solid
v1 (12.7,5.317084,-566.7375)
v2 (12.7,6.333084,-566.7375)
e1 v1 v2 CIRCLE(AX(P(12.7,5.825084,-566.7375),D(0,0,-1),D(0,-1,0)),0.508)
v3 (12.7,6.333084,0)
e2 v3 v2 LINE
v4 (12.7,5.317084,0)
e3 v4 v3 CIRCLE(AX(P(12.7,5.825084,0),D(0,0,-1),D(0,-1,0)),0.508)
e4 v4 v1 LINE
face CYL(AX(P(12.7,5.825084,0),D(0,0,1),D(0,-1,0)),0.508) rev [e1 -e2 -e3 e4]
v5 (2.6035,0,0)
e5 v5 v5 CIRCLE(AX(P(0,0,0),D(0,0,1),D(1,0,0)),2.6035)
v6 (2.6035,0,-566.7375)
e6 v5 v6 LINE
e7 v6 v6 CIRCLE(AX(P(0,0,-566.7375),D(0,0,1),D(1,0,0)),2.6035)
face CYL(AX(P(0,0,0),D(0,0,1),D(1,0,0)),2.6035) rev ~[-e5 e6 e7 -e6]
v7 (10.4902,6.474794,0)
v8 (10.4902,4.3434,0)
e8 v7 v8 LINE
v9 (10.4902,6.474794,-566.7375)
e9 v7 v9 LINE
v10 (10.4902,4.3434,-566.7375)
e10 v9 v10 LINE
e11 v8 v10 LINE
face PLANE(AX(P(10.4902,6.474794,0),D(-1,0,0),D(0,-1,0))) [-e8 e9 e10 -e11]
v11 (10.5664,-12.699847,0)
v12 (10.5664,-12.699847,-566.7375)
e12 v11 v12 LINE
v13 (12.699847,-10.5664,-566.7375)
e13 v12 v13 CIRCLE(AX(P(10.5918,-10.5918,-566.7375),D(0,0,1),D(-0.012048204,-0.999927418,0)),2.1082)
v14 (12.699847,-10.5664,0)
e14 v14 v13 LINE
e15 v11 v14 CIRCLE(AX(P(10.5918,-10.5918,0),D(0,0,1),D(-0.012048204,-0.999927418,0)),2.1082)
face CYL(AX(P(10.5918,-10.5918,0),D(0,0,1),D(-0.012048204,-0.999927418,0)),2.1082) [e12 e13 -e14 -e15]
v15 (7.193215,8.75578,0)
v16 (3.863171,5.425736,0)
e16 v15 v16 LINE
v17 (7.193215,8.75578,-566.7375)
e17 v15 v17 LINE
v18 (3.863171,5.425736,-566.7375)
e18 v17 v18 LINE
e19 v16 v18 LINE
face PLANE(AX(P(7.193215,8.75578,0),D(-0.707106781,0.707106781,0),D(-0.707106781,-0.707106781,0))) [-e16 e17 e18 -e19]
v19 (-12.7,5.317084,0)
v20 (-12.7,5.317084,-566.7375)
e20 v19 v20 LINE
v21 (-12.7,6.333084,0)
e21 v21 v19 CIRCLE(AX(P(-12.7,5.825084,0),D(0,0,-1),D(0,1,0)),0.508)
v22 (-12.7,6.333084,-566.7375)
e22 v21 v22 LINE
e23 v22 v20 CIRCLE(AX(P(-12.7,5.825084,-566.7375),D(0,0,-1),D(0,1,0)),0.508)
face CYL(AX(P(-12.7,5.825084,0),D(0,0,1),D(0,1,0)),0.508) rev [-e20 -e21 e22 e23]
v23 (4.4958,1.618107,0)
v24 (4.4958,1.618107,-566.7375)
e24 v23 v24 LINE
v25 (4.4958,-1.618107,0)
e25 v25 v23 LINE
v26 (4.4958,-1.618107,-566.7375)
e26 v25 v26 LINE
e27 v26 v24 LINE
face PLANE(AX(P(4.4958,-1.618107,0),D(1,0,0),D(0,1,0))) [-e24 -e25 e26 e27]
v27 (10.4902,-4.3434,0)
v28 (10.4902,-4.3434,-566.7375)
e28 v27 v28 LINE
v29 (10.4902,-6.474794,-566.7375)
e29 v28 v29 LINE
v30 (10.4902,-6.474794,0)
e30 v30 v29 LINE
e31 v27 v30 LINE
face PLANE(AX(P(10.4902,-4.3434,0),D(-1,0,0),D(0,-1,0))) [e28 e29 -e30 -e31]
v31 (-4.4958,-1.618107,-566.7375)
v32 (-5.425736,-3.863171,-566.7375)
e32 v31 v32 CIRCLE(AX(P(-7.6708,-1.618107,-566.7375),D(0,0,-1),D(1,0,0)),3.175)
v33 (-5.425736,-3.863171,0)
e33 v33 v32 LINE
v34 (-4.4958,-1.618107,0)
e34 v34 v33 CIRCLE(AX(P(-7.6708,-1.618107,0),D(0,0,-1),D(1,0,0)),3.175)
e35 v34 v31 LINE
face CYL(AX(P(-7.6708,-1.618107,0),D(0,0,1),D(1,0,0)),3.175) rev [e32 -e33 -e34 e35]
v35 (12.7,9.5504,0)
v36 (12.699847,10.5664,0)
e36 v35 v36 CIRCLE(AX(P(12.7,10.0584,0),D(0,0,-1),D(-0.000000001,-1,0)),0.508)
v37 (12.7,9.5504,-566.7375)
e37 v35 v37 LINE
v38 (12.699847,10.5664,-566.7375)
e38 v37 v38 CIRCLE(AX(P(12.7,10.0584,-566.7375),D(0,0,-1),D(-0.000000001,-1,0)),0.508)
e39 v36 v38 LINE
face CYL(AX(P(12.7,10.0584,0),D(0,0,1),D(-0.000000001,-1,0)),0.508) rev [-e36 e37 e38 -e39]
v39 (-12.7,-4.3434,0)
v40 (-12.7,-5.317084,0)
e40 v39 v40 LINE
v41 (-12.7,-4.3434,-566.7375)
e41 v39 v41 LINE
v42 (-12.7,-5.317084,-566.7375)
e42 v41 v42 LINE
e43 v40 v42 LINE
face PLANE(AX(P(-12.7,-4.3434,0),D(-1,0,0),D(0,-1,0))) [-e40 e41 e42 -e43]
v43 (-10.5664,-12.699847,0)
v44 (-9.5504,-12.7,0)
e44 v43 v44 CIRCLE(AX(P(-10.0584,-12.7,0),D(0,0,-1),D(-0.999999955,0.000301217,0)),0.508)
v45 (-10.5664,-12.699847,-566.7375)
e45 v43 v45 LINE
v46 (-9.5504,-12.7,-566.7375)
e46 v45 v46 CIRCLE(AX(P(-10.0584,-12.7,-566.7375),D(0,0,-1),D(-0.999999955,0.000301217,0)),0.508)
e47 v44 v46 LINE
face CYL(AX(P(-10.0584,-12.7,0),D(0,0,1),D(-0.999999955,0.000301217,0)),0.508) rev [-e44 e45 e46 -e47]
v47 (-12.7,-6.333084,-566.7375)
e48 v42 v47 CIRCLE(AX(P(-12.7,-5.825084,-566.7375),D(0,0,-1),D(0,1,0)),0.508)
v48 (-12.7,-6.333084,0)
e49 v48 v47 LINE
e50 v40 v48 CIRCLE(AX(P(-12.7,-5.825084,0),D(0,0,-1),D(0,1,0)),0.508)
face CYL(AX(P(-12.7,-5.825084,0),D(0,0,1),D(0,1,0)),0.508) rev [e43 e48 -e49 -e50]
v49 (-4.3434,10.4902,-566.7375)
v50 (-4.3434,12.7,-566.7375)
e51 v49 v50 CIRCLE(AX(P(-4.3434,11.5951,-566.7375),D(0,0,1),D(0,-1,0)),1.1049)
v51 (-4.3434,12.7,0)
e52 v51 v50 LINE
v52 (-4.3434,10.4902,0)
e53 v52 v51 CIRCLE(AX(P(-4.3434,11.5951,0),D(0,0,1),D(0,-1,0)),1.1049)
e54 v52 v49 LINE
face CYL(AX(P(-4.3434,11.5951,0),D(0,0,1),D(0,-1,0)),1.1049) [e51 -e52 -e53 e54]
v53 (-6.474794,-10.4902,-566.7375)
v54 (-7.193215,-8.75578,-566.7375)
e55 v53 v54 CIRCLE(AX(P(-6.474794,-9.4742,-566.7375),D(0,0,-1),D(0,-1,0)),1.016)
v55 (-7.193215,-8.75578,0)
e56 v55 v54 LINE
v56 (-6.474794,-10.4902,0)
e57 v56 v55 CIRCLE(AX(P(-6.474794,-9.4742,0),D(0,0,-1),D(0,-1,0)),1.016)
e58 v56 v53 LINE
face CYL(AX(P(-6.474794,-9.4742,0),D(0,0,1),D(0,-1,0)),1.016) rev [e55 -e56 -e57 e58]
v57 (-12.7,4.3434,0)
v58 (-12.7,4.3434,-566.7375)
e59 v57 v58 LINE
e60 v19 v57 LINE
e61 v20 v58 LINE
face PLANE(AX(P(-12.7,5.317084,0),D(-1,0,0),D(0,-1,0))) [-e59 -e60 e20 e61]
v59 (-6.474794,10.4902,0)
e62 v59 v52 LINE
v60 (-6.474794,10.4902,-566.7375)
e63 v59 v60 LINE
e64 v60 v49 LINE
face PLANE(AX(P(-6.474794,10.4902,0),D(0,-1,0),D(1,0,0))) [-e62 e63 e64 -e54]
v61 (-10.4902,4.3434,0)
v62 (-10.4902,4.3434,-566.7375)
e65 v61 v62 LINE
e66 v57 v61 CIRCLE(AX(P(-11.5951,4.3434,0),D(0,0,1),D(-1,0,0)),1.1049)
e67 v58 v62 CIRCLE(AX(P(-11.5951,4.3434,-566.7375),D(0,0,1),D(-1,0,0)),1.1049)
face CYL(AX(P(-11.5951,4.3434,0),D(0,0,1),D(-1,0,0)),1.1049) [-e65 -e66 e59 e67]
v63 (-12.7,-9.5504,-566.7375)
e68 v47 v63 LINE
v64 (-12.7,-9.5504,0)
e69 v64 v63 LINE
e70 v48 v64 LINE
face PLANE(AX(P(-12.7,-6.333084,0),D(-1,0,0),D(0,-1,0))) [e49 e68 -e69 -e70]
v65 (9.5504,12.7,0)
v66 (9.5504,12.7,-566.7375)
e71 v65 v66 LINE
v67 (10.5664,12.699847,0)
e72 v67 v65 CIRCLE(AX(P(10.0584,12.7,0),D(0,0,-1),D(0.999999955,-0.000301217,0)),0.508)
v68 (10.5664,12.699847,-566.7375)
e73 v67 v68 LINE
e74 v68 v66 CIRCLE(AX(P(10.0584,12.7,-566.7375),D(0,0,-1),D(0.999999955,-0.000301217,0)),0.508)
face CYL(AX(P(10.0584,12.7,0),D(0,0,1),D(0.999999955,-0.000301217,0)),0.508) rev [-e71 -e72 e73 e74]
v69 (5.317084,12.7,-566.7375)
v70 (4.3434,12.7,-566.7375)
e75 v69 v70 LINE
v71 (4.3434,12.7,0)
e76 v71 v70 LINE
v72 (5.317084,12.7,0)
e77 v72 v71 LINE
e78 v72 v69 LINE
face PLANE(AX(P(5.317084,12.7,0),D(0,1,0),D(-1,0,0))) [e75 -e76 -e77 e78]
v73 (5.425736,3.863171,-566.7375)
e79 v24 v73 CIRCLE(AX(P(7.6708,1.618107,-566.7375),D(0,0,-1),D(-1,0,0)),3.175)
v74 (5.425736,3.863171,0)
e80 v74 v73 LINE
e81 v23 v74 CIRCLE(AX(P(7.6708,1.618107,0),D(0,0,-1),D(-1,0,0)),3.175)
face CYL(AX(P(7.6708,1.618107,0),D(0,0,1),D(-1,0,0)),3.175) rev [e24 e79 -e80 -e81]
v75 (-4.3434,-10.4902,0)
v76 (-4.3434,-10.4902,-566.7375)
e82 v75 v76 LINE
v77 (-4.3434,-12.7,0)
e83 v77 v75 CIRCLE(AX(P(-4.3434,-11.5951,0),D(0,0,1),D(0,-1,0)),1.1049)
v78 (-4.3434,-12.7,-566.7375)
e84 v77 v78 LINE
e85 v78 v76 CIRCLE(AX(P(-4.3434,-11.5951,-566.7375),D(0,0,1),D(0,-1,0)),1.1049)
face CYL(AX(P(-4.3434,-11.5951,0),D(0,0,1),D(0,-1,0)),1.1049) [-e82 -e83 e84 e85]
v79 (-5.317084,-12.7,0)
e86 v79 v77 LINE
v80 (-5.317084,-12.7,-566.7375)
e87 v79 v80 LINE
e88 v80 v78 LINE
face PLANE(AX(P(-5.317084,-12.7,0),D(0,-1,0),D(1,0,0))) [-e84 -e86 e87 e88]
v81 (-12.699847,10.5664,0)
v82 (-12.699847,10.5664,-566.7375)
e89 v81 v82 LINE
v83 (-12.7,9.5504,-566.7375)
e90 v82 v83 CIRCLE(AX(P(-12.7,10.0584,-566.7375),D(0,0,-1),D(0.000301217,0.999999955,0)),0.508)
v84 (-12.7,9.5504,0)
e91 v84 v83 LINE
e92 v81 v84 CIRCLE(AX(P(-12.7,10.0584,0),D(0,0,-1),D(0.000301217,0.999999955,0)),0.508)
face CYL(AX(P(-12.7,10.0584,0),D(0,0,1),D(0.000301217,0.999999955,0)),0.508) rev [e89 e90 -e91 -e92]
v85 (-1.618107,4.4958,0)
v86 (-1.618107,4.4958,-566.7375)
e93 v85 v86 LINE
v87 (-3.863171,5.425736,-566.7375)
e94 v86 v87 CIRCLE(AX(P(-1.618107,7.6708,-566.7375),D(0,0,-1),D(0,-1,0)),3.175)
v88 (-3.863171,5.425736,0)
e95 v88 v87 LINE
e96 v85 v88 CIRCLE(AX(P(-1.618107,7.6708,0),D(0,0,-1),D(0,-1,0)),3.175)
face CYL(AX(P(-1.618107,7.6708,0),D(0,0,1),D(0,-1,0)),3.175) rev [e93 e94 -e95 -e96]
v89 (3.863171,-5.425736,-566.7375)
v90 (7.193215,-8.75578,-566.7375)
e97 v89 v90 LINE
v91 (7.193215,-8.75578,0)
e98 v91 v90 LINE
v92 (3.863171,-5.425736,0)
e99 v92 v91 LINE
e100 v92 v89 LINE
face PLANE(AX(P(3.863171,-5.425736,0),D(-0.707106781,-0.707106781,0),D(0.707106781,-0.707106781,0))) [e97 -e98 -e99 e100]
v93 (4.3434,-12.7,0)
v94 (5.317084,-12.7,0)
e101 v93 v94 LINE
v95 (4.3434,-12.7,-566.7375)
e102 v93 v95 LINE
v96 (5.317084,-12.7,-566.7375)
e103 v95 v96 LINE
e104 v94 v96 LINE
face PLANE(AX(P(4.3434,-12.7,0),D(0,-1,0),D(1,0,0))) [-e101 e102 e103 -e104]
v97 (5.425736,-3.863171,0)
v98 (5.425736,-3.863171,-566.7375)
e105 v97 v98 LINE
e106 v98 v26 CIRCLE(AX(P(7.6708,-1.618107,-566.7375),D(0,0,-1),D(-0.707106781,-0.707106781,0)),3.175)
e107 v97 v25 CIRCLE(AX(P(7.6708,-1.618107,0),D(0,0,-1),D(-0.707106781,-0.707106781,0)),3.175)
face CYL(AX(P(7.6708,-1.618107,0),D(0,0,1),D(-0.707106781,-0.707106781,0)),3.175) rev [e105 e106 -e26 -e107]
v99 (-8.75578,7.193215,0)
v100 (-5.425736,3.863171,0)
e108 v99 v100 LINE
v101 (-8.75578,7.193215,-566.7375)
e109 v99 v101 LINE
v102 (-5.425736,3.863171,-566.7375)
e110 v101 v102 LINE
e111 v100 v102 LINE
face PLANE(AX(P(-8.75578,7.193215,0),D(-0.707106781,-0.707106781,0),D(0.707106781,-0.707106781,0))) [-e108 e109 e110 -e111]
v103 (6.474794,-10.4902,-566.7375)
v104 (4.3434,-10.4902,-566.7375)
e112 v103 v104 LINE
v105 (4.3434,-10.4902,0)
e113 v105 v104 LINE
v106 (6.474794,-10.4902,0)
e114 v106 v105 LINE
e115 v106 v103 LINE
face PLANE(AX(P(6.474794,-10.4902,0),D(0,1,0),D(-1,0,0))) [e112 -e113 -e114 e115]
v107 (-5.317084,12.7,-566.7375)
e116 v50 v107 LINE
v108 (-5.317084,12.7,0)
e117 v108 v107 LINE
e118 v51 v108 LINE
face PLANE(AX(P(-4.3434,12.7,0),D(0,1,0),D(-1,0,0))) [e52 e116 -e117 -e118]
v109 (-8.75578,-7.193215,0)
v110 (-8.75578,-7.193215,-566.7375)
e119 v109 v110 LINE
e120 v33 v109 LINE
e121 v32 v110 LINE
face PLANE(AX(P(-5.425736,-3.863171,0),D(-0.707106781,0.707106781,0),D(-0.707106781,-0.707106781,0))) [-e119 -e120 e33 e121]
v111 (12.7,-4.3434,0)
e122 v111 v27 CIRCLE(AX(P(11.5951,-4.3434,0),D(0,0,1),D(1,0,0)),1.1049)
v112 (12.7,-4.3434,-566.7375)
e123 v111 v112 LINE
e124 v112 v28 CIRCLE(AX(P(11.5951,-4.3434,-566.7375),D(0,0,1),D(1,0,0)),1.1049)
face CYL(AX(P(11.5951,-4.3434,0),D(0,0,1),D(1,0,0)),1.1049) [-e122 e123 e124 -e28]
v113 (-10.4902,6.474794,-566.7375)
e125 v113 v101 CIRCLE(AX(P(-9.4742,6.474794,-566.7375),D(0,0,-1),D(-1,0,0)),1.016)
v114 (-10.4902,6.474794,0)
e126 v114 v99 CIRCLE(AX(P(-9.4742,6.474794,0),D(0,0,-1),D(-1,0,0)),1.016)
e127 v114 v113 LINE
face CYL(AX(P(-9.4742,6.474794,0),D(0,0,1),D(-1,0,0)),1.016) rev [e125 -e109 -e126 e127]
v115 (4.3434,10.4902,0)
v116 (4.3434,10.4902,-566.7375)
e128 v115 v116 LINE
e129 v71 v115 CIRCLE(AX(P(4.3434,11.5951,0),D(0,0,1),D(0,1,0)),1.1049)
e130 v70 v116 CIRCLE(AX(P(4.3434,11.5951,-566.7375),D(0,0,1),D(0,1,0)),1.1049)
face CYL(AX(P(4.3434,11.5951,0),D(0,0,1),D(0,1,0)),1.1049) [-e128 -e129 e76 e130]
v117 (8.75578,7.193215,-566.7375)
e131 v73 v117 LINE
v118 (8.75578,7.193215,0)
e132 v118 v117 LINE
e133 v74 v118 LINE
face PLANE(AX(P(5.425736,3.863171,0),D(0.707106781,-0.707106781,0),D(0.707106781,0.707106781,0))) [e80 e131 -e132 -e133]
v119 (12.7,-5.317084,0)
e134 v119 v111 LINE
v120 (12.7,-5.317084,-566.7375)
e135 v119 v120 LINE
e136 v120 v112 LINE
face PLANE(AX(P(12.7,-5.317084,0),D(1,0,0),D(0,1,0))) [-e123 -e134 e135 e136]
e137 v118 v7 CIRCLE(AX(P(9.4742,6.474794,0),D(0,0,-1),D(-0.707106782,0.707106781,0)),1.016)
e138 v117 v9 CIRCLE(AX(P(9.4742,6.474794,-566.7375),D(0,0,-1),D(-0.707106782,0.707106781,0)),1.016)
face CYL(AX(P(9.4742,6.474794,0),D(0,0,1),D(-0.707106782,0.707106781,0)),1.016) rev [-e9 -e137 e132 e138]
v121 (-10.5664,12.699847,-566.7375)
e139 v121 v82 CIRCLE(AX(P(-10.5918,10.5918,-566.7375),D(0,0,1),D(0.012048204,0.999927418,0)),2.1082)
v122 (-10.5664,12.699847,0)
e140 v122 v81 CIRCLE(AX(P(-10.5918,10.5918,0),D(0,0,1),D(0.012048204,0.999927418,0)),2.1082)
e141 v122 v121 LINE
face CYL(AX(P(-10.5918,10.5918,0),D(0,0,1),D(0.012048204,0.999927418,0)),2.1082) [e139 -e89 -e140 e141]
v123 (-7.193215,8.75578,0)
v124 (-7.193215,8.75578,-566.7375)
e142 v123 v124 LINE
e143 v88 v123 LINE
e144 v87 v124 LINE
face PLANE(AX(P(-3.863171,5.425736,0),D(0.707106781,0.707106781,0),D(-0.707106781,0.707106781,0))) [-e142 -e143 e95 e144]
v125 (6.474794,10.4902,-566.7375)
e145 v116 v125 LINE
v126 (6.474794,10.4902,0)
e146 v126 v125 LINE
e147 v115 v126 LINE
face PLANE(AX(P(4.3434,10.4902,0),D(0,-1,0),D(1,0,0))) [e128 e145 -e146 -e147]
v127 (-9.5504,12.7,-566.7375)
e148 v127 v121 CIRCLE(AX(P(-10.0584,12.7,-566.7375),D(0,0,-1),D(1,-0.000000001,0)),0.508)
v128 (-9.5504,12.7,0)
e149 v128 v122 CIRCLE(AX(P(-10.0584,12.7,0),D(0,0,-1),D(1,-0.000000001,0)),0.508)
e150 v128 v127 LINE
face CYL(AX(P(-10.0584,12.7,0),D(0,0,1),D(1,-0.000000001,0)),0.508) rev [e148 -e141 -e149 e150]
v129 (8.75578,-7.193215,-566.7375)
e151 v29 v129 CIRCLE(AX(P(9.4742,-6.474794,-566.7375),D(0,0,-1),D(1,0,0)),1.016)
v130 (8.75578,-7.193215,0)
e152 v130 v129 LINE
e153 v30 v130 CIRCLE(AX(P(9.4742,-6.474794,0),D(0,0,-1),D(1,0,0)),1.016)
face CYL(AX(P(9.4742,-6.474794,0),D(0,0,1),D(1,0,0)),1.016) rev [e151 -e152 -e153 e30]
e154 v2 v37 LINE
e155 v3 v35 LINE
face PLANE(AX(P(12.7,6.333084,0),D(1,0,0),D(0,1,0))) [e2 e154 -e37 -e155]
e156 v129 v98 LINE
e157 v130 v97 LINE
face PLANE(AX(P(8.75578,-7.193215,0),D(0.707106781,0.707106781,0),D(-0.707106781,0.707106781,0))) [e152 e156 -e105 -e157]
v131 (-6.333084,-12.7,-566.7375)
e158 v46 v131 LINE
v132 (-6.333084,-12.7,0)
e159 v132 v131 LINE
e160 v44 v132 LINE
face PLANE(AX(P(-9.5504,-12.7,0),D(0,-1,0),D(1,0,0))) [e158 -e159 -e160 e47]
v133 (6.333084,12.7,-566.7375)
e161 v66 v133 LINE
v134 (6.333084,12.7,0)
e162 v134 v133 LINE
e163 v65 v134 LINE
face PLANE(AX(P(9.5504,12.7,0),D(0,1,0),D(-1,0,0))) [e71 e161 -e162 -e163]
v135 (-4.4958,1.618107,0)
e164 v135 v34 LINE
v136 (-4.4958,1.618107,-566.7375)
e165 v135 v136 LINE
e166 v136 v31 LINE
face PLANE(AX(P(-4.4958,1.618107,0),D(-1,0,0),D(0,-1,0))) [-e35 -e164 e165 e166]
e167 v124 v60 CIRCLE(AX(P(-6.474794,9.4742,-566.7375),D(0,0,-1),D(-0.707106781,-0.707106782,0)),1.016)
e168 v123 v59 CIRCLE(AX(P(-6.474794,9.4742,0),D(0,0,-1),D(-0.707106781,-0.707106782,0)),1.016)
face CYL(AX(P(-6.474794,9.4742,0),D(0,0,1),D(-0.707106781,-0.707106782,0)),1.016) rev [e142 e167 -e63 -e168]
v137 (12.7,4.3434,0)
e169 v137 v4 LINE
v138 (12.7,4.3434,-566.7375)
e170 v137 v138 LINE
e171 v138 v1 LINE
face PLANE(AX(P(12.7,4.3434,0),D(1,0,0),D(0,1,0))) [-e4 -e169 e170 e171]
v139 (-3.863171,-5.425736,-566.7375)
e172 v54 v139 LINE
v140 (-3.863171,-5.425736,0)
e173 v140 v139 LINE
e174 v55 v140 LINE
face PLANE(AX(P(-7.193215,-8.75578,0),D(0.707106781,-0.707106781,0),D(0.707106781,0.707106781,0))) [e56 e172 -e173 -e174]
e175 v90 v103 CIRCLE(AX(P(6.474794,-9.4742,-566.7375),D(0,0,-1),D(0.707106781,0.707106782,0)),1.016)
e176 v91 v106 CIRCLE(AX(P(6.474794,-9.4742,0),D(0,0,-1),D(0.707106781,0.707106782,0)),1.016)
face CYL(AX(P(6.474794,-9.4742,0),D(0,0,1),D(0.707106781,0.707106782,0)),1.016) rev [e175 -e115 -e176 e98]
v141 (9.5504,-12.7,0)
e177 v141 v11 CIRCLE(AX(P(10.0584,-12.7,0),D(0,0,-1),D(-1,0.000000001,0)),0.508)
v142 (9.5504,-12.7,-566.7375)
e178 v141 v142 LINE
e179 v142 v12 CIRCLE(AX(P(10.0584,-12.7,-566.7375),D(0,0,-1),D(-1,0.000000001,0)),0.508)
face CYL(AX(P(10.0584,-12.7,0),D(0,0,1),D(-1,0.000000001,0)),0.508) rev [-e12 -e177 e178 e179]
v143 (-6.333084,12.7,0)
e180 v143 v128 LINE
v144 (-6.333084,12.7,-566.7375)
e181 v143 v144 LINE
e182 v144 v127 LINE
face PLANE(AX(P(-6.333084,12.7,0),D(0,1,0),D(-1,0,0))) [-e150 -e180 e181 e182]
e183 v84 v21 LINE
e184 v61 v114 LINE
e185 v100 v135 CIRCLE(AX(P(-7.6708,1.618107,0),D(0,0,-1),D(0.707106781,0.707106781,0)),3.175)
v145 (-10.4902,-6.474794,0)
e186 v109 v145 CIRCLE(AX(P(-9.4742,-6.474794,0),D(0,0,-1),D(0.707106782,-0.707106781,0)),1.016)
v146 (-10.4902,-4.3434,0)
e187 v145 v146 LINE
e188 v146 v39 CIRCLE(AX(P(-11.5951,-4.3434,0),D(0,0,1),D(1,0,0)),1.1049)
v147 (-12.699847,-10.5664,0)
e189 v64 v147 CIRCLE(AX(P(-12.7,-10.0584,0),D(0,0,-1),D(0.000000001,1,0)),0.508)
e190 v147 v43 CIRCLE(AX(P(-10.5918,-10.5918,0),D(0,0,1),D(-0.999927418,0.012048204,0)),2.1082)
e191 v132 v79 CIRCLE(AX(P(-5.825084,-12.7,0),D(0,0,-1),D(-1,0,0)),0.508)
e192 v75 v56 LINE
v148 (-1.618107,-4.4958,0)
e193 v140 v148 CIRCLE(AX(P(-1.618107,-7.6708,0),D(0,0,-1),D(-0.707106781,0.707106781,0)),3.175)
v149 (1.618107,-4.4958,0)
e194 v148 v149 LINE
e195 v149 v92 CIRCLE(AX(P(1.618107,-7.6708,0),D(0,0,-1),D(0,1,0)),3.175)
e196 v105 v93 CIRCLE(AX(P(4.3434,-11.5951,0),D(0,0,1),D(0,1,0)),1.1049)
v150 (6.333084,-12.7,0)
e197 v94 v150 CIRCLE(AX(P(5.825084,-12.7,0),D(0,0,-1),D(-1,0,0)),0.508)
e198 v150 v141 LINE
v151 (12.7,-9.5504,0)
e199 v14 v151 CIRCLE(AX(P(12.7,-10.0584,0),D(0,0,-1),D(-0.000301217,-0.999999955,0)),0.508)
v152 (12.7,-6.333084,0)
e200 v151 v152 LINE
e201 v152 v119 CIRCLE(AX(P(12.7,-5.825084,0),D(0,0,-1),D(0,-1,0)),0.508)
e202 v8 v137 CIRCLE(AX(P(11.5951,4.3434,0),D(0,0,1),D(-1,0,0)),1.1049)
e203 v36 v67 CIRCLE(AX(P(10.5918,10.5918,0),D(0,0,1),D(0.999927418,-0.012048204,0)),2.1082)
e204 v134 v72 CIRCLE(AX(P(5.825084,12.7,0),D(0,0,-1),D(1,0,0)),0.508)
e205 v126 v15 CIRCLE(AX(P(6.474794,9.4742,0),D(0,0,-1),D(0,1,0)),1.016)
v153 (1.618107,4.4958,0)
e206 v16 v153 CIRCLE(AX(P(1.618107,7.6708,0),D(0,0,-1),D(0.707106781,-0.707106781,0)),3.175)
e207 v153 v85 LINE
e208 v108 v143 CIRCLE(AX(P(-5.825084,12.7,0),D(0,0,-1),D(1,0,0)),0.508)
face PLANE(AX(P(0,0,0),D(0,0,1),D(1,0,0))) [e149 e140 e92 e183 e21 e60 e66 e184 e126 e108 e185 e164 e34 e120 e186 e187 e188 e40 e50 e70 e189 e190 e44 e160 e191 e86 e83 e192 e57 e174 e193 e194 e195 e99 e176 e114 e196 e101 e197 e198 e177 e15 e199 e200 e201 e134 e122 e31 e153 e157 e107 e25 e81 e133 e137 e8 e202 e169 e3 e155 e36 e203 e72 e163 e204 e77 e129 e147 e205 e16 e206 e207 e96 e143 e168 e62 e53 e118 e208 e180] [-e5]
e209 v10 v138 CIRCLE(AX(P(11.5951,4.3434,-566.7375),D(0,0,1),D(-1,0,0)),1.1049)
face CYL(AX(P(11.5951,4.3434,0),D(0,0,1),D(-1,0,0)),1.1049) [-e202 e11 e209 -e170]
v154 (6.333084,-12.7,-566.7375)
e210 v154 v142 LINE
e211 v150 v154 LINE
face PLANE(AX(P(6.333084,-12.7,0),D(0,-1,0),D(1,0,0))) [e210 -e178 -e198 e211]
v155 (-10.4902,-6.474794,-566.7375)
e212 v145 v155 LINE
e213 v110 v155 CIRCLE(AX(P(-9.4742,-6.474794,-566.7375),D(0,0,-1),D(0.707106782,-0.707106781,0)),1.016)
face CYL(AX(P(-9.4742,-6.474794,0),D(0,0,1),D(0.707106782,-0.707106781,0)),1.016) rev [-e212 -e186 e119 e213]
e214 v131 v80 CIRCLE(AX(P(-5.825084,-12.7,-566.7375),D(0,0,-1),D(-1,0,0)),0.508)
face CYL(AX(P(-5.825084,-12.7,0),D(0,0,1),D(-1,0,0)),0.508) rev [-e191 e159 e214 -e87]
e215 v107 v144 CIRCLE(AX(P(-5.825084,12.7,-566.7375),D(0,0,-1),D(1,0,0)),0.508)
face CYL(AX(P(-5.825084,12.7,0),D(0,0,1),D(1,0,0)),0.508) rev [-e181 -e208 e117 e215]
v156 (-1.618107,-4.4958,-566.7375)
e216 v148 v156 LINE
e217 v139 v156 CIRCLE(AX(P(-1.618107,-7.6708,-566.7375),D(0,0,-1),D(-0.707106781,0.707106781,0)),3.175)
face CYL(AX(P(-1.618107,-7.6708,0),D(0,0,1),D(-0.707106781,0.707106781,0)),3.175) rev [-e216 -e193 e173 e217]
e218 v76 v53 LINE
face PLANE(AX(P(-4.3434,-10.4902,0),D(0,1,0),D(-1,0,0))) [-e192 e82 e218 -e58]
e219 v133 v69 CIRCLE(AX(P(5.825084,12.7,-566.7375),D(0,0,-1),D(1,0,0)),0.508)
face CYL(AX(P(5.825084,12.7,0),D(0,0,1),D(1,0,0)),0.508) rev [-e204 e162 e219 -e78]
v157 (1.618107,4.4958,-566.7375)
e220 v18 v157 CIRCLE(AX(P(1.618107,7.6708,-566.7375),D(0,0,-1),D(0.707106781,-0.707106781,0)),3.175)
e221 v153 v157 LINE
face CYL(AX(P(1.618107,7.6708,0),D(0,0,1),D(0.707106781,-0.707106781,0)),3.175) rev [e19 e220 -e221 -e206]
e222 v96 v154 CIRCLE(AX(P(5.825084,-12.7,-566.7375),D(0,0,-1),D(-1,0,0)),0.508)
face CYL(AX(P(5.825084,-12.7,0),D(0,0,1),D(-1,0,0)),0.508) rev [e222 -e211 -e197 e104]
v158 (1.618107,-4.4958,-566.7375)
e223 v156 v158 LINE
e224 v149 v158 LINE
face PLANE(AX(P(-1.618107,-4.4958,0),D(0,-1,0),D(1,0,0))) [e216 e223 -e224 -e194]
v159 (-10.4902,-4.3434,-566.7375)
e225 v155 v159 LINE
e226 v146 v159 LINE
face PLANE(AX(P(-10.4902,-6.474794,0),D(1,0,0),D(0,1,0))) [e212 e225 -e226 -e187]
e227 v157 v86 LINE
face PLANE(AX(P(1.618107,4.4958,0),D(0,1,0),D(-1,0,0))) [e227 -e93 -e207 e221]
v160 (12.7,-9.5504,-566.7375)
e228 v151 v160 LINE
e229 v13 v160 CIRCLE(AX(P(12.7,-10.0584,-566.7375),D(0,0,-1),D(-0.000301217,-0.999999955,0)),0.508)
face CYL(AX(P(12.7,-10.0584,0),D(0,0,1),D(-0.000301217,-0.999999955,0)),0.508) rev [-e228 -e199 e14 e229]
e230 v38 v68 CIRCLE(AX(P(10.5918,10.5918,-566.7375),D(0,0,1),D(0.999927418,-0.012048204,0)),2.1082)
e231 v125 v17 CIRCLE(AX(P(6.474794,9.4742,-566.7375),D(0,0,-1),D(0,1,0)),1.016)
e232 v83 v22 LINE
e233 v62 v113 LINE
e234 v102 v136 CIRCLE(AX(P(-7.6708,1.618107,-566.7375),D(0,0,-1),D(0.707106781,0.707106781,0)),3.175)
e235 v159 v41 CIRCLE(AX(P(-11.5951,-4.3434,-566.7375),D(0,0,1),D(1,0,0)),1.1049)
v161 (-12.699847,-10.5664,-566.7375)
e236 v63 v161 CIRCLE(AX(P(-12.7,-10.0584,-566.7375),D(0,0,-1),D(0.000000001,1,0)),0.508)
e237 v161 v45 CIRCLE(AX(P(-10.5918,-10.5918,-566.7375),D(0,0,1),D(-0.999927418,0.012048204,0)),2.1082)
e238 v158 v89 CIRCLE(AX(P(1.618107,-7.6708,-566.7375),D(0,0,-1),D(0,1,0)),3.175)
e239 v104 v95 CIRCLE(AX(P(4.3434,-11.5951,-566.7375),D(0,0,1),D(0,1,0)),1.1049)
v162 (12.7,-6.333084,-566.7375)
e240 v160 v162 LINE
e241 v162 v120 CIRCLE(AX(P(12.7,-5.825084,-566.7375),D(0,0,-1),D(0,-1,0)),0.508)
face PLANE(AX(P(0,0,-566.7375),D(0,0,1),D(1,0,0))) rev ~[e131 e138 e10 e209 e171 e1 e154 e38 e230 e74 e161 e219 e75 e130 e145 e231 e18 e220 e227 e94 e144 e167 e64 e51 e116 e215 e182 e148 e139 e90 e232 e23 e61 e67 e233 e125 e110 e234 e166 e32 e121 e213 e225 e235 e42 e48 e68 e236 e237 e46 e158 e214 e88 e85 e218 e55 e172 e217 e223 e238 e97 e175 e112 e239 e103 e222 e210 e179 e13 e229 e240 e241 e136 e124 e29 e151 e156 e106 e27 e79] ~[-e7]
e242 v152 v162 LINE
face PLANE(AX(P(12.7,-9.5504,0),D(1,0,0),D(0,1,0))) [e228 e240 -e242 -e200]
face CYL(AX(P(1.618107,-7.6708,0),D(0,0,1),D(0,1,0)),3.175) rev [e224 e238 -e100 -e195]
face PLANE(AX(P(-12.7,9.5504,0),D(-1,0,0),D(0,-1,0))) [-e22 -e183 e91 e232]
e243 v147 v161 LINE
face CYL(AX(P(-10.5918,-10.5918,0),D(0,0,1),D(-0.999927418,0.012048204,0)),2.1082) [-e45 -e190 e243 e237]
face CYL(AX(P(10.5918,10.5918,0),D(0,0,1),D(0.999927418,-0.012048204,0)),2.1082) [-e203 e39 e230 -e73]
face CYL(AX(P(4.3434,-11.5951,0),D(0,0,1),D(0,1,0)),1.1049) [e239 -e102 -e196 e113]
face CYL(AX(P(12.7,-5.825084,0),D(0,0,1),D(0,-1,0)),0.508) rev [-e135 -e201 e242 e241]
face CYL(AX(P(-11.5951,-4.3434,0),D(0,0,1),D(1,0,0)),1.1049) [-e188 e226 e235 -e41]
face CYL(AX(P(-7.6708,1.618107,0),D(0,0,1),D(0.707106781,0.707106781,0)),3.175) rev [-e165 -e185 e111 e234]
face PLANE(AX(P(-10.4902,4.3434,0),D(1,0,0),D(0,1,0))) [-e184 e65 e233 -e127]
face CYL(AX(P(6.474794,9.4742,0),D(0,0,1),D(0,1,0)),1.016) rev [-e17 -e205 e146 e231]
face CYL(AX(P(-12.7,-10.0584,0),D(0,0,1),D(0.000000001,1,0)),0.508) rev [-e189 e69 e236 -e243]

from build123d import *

# Parameters (mm, degrees)
SKETCH1_R           = 2.6035
BOSS_EXTRUDE1_DEPTH = 566.7375


with BuildPart() as part:
    # Sketch1 → Boss-Extrude1 (new body)
    with BuildSketch(Plane.XY):
        with BuildLine():
            Line((-12.7, -6.3330836), (-12.7, -9.5504))
            ThreePointArc((-12.7, -9.5504), (-12.192000006, -10.058323491), (-12.699846982, -10.566399977))
            ThreePointArc((-12.699846982, -10.566399977), (-12.082522516, -12.082522516), (-10.566399977, -12.699846982))
            ThreePointArc((-10.566399977, -12.699846982), (-10.058323491, -12.192000006), (-9.5504, -12.7))
            Line((-9.5504, -12.7), (-6.3330836, -12.7))
            ThreePointArc((-6.3330836, -12.7), (-5.8250836, -12.192), (-5.3170836, -12.7))
            Line((-5.3170836, -12.7), (-4.343399971, -12.7))
            ThreePointArc((-4.343399971, -12.7), (-3.238499971, -11.5951), (-4.343399971, -10.4902))
            Line((-4.343399971, -10.4902), (-6.474794456, -10.4902))
            ThreePointArc((-6.474794456, -10.4902), (-7.413456061, -9.863006367), (-7.193214945, -8.75577951))
            Line((-7.193214945, -8.75577951), (-3.863171405, -5.42573597))
            ThreePointArc((-3.863171405, -5.42573597), (-2.833127272, -4.737482484), (-1.618107374, -4.4958))
            Line((-1.618107374, -4.4958), (1.618107374, -4.4958))
            ThreePointArc((1.618107374, -4.4958), (2.833127272, -4.737482484), (3.863171405, -5.42573597))
            Line((3.863171405, -5.42573597), (7.193214945, -8.75577951))
            ThreePointArc((7.193214945, -8.75577951), (7.413456061, -9.863006367), (6.474794456, -10.4902))
            Line((6.474794456, -10.4902), (4.3434, -10.4902))
            ThreePointArc((4.3434, -10.4902), (3.2385, -11.5951), (4.3434, -12.7))
            Line((4.3434, -12.7), (5.3170836, -12.7))
            ThreePointArc((5.3170836, -12.7), (5.8250836, -12.192), (6.3330836, -12.7))
            Line((6.3330836, -12.7), (9.5504, -12.7))
            ThreePointArc((9.5504, -12.7), (10.058323491, -12.192000006), (10.566399977, -12.699846982))
            ThreePointArc((10.566399977, -12.699846982), (12.082522516, -12.082522516), (12.699846982, -10.566399977))
            ThreePointArc((12.699846982, -10.566399977), (12.192000006, -10.058323491), (12.7, -9.5504))
            Line((12.7, -9.5504), (12.7, -6.3330836))
            ThreePointArc((12.7, -6.3330836), (12.192, -5.8250836), (12.7, -5.3170836))
            Line((12.7, -5.3170836), (12.7, -4.343399971))
            ThreePointArc((12.7, -4.343399971), (11.5951, -3.238499971), (10.4902, -4.343399971))
            Line((10.4902, -4.343399971), (10.4902, -6.474794456))
            ThreePointArc((10.4902, -6.474794456), (9.863006367, -7.413456061), (8.75577951, -7.193214945))
            Line((8.75577951, -7.193214945), (5.42573597, -3.863171405))
            ThreePointArc((5.42573597, -3.863171405), (4.737482484, -2.833127272), (4.4958, -1.618107374))
            Line((4.4958, -1.618107374), (4.4958, 1.618107374))
            ThreePointArc((4.4958, 1.618107374), (4.737482484, 2.833127272), (5.42573597, 3.863171405))
            Line((5.42573597, 3.863171405), (8.75577951, 7.193214945))
            ThreePointArc((8.75577951, 7.193214945), (9.863006367, 7.413456061), (10.4902, 6.474794456))
            Line((10.4902, 6.474794456), (10.4902, 4.3434))
            ThreePointArc((10.4902, 4.3434), (11.5951, 3.2385), (12.7, 4.3434))
            Line((12.7, 4.3434), (12.7, 5.3170836))
            ThreePointArc((12.7, 5.3170836), (12.192, 5.8250836), (12.7, 6.3330836))
            Line((12.7, 6.3330836), (12.7, 9.5504))
            ThreePointArc((12.7, 9.5504), (12.192000006, 10.058323491), (12.699846982, 10.566399977))
            ThreePointArc((12.699846982, 10.566399977), (12.082522516, 12.082522516), (10.566399977, 12.699846982))
            ThreePointArc((10.566399977, 12.699846982), (10.058323491, 12.192000006), (9.5504, 12.7))
            Line((9.5504, 12.7), (6.3330836, 12.7))
            ThreePointArc((6.3330836, 12.7), (5.8250836, 12.192), (5.3170836, 12.7))
            Line((5.3170836, 12.7), (4.343399971, 12.7))
            ThreePointArc((4.343399971, 12.7), (3.238499971, 11.5951), (4.343399971, 10.4902))
            Line((4.343399971, 10.4902), (6.474794456, 10.4902))
            ThreePointArc((6.474794456, 10.4902), (7.413456061, 9.863006367), (7.193214945, 8.75577951))
            Line((7.193214945, 8.75577951), (3.863171405, 5.42573597))
            ThreePointArc((3.863171405, 5.42573597), (2.833127272, 4.737482484), (1.618107374, 4.4958))
            Line((1.618107374, 4.4958), (-1.618107374, 4.4958))
            ThreePointArc((-1.618107374, 4.4958), (-2.833127272, 4.737482484), (-3.863171405, 5.42573597))
            Line((-3.863171405, 5.42573597), (-7.193214945, 8.75577951))
            ThreePointArc((-7.193214945, 8.75577951), (-7.413456061, 9.863006367), (-6.474794456, 10.4902))
            Line((-6.474794456, 10.4902), (-4.3434, 10.4902))
            ThreePointArc((-4.3434, 10.4902), (-3.2385, 11.5951), (-4.3434, 12.7))
            Line((-4.3434, 12.7), (-5.3170836, 12.7))
            ThreePointArc((-5.3170836, 12.7), (-5.8250836, 12.192), (-6.3330836, 12.7))
            Line((-6.3330836, 12.7), (-9.5504, 12.7))
            ThreePointArc((-9.5504, 12.7), (-10.058323491, 12.192000006), (-10.566399977, 12.699846982))
            ThreePointArc((-10.566399977, 12.699846982), (-12.082522516, 12.082522516), (-12.699846982, 10.566399977))
            ThreePointArc((-12.699846982, 10.566399977), (-12.192000006, 10.058323491), (-12.7, 9.5504))
            Line((-12.7, 9.5504), (-12.7, 6.3330836))
            ThreePointArc((-12.7, 6.3330836), (-12.192, 5.8250836), (-12.7, 5.3170836))
            Line((-12.7, 5.3170836), (-12.7, 4.343399971))
            ThreePointArc((-12.7, 4.343399971), (-11.5951, 3.238499971), (-10.4902, 4.343399971))
            Line((-10.4902, 4.343399971), (-10.4902, 6.474794456))
            ThreePointArc((-10.4902, 6.474794456), (-9.863006367, 7.413456061), (-8.75577951, 7.193214945))
            Line((-8.75577951, 7.193214945), (-5.42573597, 3.863171405))
            ThreePointArc((-5.42573597, 3.863171405), (-4.737482484, 2.833127272), (-4.4958, 1.618107374))
            Line((-4.4958, 1.618107374), (-4.4958, -1.618107374))
            ThreePointArc((-4.4958, -1.618107374), (-4.737482484, -2.833127272), (-5.42573597, -3.863171405))
            Line((-5.42573597, -3.863171405), (-8.75577951, -7.193214945))
            ThreePointArc((-8.75577951, -7.193214945), (-9.863006367, -7.413456061), (-10.4902, -6.474794456))
            Line((-10.4902, -6.474794456), (-10.4902, -4.3434))
            ThreePointArc((-10.4902, -4.3434), (-11.5951, -3.2385), (-12.7, -4.3434))
            Line((-12.7, -4.3434), (-12.7, -5.3170836))
            ThreePointArc((-12.7, -5.3170836), (-12.192, -5.8250836), (-12.7, -6.3330836))
        make_face()
        Circle(SKETCH1_R, mode=Mode.SUBTRACT)
    extrude(amount=-BOSS_EXTRUDE1_DEPTH)


solid = part.part
